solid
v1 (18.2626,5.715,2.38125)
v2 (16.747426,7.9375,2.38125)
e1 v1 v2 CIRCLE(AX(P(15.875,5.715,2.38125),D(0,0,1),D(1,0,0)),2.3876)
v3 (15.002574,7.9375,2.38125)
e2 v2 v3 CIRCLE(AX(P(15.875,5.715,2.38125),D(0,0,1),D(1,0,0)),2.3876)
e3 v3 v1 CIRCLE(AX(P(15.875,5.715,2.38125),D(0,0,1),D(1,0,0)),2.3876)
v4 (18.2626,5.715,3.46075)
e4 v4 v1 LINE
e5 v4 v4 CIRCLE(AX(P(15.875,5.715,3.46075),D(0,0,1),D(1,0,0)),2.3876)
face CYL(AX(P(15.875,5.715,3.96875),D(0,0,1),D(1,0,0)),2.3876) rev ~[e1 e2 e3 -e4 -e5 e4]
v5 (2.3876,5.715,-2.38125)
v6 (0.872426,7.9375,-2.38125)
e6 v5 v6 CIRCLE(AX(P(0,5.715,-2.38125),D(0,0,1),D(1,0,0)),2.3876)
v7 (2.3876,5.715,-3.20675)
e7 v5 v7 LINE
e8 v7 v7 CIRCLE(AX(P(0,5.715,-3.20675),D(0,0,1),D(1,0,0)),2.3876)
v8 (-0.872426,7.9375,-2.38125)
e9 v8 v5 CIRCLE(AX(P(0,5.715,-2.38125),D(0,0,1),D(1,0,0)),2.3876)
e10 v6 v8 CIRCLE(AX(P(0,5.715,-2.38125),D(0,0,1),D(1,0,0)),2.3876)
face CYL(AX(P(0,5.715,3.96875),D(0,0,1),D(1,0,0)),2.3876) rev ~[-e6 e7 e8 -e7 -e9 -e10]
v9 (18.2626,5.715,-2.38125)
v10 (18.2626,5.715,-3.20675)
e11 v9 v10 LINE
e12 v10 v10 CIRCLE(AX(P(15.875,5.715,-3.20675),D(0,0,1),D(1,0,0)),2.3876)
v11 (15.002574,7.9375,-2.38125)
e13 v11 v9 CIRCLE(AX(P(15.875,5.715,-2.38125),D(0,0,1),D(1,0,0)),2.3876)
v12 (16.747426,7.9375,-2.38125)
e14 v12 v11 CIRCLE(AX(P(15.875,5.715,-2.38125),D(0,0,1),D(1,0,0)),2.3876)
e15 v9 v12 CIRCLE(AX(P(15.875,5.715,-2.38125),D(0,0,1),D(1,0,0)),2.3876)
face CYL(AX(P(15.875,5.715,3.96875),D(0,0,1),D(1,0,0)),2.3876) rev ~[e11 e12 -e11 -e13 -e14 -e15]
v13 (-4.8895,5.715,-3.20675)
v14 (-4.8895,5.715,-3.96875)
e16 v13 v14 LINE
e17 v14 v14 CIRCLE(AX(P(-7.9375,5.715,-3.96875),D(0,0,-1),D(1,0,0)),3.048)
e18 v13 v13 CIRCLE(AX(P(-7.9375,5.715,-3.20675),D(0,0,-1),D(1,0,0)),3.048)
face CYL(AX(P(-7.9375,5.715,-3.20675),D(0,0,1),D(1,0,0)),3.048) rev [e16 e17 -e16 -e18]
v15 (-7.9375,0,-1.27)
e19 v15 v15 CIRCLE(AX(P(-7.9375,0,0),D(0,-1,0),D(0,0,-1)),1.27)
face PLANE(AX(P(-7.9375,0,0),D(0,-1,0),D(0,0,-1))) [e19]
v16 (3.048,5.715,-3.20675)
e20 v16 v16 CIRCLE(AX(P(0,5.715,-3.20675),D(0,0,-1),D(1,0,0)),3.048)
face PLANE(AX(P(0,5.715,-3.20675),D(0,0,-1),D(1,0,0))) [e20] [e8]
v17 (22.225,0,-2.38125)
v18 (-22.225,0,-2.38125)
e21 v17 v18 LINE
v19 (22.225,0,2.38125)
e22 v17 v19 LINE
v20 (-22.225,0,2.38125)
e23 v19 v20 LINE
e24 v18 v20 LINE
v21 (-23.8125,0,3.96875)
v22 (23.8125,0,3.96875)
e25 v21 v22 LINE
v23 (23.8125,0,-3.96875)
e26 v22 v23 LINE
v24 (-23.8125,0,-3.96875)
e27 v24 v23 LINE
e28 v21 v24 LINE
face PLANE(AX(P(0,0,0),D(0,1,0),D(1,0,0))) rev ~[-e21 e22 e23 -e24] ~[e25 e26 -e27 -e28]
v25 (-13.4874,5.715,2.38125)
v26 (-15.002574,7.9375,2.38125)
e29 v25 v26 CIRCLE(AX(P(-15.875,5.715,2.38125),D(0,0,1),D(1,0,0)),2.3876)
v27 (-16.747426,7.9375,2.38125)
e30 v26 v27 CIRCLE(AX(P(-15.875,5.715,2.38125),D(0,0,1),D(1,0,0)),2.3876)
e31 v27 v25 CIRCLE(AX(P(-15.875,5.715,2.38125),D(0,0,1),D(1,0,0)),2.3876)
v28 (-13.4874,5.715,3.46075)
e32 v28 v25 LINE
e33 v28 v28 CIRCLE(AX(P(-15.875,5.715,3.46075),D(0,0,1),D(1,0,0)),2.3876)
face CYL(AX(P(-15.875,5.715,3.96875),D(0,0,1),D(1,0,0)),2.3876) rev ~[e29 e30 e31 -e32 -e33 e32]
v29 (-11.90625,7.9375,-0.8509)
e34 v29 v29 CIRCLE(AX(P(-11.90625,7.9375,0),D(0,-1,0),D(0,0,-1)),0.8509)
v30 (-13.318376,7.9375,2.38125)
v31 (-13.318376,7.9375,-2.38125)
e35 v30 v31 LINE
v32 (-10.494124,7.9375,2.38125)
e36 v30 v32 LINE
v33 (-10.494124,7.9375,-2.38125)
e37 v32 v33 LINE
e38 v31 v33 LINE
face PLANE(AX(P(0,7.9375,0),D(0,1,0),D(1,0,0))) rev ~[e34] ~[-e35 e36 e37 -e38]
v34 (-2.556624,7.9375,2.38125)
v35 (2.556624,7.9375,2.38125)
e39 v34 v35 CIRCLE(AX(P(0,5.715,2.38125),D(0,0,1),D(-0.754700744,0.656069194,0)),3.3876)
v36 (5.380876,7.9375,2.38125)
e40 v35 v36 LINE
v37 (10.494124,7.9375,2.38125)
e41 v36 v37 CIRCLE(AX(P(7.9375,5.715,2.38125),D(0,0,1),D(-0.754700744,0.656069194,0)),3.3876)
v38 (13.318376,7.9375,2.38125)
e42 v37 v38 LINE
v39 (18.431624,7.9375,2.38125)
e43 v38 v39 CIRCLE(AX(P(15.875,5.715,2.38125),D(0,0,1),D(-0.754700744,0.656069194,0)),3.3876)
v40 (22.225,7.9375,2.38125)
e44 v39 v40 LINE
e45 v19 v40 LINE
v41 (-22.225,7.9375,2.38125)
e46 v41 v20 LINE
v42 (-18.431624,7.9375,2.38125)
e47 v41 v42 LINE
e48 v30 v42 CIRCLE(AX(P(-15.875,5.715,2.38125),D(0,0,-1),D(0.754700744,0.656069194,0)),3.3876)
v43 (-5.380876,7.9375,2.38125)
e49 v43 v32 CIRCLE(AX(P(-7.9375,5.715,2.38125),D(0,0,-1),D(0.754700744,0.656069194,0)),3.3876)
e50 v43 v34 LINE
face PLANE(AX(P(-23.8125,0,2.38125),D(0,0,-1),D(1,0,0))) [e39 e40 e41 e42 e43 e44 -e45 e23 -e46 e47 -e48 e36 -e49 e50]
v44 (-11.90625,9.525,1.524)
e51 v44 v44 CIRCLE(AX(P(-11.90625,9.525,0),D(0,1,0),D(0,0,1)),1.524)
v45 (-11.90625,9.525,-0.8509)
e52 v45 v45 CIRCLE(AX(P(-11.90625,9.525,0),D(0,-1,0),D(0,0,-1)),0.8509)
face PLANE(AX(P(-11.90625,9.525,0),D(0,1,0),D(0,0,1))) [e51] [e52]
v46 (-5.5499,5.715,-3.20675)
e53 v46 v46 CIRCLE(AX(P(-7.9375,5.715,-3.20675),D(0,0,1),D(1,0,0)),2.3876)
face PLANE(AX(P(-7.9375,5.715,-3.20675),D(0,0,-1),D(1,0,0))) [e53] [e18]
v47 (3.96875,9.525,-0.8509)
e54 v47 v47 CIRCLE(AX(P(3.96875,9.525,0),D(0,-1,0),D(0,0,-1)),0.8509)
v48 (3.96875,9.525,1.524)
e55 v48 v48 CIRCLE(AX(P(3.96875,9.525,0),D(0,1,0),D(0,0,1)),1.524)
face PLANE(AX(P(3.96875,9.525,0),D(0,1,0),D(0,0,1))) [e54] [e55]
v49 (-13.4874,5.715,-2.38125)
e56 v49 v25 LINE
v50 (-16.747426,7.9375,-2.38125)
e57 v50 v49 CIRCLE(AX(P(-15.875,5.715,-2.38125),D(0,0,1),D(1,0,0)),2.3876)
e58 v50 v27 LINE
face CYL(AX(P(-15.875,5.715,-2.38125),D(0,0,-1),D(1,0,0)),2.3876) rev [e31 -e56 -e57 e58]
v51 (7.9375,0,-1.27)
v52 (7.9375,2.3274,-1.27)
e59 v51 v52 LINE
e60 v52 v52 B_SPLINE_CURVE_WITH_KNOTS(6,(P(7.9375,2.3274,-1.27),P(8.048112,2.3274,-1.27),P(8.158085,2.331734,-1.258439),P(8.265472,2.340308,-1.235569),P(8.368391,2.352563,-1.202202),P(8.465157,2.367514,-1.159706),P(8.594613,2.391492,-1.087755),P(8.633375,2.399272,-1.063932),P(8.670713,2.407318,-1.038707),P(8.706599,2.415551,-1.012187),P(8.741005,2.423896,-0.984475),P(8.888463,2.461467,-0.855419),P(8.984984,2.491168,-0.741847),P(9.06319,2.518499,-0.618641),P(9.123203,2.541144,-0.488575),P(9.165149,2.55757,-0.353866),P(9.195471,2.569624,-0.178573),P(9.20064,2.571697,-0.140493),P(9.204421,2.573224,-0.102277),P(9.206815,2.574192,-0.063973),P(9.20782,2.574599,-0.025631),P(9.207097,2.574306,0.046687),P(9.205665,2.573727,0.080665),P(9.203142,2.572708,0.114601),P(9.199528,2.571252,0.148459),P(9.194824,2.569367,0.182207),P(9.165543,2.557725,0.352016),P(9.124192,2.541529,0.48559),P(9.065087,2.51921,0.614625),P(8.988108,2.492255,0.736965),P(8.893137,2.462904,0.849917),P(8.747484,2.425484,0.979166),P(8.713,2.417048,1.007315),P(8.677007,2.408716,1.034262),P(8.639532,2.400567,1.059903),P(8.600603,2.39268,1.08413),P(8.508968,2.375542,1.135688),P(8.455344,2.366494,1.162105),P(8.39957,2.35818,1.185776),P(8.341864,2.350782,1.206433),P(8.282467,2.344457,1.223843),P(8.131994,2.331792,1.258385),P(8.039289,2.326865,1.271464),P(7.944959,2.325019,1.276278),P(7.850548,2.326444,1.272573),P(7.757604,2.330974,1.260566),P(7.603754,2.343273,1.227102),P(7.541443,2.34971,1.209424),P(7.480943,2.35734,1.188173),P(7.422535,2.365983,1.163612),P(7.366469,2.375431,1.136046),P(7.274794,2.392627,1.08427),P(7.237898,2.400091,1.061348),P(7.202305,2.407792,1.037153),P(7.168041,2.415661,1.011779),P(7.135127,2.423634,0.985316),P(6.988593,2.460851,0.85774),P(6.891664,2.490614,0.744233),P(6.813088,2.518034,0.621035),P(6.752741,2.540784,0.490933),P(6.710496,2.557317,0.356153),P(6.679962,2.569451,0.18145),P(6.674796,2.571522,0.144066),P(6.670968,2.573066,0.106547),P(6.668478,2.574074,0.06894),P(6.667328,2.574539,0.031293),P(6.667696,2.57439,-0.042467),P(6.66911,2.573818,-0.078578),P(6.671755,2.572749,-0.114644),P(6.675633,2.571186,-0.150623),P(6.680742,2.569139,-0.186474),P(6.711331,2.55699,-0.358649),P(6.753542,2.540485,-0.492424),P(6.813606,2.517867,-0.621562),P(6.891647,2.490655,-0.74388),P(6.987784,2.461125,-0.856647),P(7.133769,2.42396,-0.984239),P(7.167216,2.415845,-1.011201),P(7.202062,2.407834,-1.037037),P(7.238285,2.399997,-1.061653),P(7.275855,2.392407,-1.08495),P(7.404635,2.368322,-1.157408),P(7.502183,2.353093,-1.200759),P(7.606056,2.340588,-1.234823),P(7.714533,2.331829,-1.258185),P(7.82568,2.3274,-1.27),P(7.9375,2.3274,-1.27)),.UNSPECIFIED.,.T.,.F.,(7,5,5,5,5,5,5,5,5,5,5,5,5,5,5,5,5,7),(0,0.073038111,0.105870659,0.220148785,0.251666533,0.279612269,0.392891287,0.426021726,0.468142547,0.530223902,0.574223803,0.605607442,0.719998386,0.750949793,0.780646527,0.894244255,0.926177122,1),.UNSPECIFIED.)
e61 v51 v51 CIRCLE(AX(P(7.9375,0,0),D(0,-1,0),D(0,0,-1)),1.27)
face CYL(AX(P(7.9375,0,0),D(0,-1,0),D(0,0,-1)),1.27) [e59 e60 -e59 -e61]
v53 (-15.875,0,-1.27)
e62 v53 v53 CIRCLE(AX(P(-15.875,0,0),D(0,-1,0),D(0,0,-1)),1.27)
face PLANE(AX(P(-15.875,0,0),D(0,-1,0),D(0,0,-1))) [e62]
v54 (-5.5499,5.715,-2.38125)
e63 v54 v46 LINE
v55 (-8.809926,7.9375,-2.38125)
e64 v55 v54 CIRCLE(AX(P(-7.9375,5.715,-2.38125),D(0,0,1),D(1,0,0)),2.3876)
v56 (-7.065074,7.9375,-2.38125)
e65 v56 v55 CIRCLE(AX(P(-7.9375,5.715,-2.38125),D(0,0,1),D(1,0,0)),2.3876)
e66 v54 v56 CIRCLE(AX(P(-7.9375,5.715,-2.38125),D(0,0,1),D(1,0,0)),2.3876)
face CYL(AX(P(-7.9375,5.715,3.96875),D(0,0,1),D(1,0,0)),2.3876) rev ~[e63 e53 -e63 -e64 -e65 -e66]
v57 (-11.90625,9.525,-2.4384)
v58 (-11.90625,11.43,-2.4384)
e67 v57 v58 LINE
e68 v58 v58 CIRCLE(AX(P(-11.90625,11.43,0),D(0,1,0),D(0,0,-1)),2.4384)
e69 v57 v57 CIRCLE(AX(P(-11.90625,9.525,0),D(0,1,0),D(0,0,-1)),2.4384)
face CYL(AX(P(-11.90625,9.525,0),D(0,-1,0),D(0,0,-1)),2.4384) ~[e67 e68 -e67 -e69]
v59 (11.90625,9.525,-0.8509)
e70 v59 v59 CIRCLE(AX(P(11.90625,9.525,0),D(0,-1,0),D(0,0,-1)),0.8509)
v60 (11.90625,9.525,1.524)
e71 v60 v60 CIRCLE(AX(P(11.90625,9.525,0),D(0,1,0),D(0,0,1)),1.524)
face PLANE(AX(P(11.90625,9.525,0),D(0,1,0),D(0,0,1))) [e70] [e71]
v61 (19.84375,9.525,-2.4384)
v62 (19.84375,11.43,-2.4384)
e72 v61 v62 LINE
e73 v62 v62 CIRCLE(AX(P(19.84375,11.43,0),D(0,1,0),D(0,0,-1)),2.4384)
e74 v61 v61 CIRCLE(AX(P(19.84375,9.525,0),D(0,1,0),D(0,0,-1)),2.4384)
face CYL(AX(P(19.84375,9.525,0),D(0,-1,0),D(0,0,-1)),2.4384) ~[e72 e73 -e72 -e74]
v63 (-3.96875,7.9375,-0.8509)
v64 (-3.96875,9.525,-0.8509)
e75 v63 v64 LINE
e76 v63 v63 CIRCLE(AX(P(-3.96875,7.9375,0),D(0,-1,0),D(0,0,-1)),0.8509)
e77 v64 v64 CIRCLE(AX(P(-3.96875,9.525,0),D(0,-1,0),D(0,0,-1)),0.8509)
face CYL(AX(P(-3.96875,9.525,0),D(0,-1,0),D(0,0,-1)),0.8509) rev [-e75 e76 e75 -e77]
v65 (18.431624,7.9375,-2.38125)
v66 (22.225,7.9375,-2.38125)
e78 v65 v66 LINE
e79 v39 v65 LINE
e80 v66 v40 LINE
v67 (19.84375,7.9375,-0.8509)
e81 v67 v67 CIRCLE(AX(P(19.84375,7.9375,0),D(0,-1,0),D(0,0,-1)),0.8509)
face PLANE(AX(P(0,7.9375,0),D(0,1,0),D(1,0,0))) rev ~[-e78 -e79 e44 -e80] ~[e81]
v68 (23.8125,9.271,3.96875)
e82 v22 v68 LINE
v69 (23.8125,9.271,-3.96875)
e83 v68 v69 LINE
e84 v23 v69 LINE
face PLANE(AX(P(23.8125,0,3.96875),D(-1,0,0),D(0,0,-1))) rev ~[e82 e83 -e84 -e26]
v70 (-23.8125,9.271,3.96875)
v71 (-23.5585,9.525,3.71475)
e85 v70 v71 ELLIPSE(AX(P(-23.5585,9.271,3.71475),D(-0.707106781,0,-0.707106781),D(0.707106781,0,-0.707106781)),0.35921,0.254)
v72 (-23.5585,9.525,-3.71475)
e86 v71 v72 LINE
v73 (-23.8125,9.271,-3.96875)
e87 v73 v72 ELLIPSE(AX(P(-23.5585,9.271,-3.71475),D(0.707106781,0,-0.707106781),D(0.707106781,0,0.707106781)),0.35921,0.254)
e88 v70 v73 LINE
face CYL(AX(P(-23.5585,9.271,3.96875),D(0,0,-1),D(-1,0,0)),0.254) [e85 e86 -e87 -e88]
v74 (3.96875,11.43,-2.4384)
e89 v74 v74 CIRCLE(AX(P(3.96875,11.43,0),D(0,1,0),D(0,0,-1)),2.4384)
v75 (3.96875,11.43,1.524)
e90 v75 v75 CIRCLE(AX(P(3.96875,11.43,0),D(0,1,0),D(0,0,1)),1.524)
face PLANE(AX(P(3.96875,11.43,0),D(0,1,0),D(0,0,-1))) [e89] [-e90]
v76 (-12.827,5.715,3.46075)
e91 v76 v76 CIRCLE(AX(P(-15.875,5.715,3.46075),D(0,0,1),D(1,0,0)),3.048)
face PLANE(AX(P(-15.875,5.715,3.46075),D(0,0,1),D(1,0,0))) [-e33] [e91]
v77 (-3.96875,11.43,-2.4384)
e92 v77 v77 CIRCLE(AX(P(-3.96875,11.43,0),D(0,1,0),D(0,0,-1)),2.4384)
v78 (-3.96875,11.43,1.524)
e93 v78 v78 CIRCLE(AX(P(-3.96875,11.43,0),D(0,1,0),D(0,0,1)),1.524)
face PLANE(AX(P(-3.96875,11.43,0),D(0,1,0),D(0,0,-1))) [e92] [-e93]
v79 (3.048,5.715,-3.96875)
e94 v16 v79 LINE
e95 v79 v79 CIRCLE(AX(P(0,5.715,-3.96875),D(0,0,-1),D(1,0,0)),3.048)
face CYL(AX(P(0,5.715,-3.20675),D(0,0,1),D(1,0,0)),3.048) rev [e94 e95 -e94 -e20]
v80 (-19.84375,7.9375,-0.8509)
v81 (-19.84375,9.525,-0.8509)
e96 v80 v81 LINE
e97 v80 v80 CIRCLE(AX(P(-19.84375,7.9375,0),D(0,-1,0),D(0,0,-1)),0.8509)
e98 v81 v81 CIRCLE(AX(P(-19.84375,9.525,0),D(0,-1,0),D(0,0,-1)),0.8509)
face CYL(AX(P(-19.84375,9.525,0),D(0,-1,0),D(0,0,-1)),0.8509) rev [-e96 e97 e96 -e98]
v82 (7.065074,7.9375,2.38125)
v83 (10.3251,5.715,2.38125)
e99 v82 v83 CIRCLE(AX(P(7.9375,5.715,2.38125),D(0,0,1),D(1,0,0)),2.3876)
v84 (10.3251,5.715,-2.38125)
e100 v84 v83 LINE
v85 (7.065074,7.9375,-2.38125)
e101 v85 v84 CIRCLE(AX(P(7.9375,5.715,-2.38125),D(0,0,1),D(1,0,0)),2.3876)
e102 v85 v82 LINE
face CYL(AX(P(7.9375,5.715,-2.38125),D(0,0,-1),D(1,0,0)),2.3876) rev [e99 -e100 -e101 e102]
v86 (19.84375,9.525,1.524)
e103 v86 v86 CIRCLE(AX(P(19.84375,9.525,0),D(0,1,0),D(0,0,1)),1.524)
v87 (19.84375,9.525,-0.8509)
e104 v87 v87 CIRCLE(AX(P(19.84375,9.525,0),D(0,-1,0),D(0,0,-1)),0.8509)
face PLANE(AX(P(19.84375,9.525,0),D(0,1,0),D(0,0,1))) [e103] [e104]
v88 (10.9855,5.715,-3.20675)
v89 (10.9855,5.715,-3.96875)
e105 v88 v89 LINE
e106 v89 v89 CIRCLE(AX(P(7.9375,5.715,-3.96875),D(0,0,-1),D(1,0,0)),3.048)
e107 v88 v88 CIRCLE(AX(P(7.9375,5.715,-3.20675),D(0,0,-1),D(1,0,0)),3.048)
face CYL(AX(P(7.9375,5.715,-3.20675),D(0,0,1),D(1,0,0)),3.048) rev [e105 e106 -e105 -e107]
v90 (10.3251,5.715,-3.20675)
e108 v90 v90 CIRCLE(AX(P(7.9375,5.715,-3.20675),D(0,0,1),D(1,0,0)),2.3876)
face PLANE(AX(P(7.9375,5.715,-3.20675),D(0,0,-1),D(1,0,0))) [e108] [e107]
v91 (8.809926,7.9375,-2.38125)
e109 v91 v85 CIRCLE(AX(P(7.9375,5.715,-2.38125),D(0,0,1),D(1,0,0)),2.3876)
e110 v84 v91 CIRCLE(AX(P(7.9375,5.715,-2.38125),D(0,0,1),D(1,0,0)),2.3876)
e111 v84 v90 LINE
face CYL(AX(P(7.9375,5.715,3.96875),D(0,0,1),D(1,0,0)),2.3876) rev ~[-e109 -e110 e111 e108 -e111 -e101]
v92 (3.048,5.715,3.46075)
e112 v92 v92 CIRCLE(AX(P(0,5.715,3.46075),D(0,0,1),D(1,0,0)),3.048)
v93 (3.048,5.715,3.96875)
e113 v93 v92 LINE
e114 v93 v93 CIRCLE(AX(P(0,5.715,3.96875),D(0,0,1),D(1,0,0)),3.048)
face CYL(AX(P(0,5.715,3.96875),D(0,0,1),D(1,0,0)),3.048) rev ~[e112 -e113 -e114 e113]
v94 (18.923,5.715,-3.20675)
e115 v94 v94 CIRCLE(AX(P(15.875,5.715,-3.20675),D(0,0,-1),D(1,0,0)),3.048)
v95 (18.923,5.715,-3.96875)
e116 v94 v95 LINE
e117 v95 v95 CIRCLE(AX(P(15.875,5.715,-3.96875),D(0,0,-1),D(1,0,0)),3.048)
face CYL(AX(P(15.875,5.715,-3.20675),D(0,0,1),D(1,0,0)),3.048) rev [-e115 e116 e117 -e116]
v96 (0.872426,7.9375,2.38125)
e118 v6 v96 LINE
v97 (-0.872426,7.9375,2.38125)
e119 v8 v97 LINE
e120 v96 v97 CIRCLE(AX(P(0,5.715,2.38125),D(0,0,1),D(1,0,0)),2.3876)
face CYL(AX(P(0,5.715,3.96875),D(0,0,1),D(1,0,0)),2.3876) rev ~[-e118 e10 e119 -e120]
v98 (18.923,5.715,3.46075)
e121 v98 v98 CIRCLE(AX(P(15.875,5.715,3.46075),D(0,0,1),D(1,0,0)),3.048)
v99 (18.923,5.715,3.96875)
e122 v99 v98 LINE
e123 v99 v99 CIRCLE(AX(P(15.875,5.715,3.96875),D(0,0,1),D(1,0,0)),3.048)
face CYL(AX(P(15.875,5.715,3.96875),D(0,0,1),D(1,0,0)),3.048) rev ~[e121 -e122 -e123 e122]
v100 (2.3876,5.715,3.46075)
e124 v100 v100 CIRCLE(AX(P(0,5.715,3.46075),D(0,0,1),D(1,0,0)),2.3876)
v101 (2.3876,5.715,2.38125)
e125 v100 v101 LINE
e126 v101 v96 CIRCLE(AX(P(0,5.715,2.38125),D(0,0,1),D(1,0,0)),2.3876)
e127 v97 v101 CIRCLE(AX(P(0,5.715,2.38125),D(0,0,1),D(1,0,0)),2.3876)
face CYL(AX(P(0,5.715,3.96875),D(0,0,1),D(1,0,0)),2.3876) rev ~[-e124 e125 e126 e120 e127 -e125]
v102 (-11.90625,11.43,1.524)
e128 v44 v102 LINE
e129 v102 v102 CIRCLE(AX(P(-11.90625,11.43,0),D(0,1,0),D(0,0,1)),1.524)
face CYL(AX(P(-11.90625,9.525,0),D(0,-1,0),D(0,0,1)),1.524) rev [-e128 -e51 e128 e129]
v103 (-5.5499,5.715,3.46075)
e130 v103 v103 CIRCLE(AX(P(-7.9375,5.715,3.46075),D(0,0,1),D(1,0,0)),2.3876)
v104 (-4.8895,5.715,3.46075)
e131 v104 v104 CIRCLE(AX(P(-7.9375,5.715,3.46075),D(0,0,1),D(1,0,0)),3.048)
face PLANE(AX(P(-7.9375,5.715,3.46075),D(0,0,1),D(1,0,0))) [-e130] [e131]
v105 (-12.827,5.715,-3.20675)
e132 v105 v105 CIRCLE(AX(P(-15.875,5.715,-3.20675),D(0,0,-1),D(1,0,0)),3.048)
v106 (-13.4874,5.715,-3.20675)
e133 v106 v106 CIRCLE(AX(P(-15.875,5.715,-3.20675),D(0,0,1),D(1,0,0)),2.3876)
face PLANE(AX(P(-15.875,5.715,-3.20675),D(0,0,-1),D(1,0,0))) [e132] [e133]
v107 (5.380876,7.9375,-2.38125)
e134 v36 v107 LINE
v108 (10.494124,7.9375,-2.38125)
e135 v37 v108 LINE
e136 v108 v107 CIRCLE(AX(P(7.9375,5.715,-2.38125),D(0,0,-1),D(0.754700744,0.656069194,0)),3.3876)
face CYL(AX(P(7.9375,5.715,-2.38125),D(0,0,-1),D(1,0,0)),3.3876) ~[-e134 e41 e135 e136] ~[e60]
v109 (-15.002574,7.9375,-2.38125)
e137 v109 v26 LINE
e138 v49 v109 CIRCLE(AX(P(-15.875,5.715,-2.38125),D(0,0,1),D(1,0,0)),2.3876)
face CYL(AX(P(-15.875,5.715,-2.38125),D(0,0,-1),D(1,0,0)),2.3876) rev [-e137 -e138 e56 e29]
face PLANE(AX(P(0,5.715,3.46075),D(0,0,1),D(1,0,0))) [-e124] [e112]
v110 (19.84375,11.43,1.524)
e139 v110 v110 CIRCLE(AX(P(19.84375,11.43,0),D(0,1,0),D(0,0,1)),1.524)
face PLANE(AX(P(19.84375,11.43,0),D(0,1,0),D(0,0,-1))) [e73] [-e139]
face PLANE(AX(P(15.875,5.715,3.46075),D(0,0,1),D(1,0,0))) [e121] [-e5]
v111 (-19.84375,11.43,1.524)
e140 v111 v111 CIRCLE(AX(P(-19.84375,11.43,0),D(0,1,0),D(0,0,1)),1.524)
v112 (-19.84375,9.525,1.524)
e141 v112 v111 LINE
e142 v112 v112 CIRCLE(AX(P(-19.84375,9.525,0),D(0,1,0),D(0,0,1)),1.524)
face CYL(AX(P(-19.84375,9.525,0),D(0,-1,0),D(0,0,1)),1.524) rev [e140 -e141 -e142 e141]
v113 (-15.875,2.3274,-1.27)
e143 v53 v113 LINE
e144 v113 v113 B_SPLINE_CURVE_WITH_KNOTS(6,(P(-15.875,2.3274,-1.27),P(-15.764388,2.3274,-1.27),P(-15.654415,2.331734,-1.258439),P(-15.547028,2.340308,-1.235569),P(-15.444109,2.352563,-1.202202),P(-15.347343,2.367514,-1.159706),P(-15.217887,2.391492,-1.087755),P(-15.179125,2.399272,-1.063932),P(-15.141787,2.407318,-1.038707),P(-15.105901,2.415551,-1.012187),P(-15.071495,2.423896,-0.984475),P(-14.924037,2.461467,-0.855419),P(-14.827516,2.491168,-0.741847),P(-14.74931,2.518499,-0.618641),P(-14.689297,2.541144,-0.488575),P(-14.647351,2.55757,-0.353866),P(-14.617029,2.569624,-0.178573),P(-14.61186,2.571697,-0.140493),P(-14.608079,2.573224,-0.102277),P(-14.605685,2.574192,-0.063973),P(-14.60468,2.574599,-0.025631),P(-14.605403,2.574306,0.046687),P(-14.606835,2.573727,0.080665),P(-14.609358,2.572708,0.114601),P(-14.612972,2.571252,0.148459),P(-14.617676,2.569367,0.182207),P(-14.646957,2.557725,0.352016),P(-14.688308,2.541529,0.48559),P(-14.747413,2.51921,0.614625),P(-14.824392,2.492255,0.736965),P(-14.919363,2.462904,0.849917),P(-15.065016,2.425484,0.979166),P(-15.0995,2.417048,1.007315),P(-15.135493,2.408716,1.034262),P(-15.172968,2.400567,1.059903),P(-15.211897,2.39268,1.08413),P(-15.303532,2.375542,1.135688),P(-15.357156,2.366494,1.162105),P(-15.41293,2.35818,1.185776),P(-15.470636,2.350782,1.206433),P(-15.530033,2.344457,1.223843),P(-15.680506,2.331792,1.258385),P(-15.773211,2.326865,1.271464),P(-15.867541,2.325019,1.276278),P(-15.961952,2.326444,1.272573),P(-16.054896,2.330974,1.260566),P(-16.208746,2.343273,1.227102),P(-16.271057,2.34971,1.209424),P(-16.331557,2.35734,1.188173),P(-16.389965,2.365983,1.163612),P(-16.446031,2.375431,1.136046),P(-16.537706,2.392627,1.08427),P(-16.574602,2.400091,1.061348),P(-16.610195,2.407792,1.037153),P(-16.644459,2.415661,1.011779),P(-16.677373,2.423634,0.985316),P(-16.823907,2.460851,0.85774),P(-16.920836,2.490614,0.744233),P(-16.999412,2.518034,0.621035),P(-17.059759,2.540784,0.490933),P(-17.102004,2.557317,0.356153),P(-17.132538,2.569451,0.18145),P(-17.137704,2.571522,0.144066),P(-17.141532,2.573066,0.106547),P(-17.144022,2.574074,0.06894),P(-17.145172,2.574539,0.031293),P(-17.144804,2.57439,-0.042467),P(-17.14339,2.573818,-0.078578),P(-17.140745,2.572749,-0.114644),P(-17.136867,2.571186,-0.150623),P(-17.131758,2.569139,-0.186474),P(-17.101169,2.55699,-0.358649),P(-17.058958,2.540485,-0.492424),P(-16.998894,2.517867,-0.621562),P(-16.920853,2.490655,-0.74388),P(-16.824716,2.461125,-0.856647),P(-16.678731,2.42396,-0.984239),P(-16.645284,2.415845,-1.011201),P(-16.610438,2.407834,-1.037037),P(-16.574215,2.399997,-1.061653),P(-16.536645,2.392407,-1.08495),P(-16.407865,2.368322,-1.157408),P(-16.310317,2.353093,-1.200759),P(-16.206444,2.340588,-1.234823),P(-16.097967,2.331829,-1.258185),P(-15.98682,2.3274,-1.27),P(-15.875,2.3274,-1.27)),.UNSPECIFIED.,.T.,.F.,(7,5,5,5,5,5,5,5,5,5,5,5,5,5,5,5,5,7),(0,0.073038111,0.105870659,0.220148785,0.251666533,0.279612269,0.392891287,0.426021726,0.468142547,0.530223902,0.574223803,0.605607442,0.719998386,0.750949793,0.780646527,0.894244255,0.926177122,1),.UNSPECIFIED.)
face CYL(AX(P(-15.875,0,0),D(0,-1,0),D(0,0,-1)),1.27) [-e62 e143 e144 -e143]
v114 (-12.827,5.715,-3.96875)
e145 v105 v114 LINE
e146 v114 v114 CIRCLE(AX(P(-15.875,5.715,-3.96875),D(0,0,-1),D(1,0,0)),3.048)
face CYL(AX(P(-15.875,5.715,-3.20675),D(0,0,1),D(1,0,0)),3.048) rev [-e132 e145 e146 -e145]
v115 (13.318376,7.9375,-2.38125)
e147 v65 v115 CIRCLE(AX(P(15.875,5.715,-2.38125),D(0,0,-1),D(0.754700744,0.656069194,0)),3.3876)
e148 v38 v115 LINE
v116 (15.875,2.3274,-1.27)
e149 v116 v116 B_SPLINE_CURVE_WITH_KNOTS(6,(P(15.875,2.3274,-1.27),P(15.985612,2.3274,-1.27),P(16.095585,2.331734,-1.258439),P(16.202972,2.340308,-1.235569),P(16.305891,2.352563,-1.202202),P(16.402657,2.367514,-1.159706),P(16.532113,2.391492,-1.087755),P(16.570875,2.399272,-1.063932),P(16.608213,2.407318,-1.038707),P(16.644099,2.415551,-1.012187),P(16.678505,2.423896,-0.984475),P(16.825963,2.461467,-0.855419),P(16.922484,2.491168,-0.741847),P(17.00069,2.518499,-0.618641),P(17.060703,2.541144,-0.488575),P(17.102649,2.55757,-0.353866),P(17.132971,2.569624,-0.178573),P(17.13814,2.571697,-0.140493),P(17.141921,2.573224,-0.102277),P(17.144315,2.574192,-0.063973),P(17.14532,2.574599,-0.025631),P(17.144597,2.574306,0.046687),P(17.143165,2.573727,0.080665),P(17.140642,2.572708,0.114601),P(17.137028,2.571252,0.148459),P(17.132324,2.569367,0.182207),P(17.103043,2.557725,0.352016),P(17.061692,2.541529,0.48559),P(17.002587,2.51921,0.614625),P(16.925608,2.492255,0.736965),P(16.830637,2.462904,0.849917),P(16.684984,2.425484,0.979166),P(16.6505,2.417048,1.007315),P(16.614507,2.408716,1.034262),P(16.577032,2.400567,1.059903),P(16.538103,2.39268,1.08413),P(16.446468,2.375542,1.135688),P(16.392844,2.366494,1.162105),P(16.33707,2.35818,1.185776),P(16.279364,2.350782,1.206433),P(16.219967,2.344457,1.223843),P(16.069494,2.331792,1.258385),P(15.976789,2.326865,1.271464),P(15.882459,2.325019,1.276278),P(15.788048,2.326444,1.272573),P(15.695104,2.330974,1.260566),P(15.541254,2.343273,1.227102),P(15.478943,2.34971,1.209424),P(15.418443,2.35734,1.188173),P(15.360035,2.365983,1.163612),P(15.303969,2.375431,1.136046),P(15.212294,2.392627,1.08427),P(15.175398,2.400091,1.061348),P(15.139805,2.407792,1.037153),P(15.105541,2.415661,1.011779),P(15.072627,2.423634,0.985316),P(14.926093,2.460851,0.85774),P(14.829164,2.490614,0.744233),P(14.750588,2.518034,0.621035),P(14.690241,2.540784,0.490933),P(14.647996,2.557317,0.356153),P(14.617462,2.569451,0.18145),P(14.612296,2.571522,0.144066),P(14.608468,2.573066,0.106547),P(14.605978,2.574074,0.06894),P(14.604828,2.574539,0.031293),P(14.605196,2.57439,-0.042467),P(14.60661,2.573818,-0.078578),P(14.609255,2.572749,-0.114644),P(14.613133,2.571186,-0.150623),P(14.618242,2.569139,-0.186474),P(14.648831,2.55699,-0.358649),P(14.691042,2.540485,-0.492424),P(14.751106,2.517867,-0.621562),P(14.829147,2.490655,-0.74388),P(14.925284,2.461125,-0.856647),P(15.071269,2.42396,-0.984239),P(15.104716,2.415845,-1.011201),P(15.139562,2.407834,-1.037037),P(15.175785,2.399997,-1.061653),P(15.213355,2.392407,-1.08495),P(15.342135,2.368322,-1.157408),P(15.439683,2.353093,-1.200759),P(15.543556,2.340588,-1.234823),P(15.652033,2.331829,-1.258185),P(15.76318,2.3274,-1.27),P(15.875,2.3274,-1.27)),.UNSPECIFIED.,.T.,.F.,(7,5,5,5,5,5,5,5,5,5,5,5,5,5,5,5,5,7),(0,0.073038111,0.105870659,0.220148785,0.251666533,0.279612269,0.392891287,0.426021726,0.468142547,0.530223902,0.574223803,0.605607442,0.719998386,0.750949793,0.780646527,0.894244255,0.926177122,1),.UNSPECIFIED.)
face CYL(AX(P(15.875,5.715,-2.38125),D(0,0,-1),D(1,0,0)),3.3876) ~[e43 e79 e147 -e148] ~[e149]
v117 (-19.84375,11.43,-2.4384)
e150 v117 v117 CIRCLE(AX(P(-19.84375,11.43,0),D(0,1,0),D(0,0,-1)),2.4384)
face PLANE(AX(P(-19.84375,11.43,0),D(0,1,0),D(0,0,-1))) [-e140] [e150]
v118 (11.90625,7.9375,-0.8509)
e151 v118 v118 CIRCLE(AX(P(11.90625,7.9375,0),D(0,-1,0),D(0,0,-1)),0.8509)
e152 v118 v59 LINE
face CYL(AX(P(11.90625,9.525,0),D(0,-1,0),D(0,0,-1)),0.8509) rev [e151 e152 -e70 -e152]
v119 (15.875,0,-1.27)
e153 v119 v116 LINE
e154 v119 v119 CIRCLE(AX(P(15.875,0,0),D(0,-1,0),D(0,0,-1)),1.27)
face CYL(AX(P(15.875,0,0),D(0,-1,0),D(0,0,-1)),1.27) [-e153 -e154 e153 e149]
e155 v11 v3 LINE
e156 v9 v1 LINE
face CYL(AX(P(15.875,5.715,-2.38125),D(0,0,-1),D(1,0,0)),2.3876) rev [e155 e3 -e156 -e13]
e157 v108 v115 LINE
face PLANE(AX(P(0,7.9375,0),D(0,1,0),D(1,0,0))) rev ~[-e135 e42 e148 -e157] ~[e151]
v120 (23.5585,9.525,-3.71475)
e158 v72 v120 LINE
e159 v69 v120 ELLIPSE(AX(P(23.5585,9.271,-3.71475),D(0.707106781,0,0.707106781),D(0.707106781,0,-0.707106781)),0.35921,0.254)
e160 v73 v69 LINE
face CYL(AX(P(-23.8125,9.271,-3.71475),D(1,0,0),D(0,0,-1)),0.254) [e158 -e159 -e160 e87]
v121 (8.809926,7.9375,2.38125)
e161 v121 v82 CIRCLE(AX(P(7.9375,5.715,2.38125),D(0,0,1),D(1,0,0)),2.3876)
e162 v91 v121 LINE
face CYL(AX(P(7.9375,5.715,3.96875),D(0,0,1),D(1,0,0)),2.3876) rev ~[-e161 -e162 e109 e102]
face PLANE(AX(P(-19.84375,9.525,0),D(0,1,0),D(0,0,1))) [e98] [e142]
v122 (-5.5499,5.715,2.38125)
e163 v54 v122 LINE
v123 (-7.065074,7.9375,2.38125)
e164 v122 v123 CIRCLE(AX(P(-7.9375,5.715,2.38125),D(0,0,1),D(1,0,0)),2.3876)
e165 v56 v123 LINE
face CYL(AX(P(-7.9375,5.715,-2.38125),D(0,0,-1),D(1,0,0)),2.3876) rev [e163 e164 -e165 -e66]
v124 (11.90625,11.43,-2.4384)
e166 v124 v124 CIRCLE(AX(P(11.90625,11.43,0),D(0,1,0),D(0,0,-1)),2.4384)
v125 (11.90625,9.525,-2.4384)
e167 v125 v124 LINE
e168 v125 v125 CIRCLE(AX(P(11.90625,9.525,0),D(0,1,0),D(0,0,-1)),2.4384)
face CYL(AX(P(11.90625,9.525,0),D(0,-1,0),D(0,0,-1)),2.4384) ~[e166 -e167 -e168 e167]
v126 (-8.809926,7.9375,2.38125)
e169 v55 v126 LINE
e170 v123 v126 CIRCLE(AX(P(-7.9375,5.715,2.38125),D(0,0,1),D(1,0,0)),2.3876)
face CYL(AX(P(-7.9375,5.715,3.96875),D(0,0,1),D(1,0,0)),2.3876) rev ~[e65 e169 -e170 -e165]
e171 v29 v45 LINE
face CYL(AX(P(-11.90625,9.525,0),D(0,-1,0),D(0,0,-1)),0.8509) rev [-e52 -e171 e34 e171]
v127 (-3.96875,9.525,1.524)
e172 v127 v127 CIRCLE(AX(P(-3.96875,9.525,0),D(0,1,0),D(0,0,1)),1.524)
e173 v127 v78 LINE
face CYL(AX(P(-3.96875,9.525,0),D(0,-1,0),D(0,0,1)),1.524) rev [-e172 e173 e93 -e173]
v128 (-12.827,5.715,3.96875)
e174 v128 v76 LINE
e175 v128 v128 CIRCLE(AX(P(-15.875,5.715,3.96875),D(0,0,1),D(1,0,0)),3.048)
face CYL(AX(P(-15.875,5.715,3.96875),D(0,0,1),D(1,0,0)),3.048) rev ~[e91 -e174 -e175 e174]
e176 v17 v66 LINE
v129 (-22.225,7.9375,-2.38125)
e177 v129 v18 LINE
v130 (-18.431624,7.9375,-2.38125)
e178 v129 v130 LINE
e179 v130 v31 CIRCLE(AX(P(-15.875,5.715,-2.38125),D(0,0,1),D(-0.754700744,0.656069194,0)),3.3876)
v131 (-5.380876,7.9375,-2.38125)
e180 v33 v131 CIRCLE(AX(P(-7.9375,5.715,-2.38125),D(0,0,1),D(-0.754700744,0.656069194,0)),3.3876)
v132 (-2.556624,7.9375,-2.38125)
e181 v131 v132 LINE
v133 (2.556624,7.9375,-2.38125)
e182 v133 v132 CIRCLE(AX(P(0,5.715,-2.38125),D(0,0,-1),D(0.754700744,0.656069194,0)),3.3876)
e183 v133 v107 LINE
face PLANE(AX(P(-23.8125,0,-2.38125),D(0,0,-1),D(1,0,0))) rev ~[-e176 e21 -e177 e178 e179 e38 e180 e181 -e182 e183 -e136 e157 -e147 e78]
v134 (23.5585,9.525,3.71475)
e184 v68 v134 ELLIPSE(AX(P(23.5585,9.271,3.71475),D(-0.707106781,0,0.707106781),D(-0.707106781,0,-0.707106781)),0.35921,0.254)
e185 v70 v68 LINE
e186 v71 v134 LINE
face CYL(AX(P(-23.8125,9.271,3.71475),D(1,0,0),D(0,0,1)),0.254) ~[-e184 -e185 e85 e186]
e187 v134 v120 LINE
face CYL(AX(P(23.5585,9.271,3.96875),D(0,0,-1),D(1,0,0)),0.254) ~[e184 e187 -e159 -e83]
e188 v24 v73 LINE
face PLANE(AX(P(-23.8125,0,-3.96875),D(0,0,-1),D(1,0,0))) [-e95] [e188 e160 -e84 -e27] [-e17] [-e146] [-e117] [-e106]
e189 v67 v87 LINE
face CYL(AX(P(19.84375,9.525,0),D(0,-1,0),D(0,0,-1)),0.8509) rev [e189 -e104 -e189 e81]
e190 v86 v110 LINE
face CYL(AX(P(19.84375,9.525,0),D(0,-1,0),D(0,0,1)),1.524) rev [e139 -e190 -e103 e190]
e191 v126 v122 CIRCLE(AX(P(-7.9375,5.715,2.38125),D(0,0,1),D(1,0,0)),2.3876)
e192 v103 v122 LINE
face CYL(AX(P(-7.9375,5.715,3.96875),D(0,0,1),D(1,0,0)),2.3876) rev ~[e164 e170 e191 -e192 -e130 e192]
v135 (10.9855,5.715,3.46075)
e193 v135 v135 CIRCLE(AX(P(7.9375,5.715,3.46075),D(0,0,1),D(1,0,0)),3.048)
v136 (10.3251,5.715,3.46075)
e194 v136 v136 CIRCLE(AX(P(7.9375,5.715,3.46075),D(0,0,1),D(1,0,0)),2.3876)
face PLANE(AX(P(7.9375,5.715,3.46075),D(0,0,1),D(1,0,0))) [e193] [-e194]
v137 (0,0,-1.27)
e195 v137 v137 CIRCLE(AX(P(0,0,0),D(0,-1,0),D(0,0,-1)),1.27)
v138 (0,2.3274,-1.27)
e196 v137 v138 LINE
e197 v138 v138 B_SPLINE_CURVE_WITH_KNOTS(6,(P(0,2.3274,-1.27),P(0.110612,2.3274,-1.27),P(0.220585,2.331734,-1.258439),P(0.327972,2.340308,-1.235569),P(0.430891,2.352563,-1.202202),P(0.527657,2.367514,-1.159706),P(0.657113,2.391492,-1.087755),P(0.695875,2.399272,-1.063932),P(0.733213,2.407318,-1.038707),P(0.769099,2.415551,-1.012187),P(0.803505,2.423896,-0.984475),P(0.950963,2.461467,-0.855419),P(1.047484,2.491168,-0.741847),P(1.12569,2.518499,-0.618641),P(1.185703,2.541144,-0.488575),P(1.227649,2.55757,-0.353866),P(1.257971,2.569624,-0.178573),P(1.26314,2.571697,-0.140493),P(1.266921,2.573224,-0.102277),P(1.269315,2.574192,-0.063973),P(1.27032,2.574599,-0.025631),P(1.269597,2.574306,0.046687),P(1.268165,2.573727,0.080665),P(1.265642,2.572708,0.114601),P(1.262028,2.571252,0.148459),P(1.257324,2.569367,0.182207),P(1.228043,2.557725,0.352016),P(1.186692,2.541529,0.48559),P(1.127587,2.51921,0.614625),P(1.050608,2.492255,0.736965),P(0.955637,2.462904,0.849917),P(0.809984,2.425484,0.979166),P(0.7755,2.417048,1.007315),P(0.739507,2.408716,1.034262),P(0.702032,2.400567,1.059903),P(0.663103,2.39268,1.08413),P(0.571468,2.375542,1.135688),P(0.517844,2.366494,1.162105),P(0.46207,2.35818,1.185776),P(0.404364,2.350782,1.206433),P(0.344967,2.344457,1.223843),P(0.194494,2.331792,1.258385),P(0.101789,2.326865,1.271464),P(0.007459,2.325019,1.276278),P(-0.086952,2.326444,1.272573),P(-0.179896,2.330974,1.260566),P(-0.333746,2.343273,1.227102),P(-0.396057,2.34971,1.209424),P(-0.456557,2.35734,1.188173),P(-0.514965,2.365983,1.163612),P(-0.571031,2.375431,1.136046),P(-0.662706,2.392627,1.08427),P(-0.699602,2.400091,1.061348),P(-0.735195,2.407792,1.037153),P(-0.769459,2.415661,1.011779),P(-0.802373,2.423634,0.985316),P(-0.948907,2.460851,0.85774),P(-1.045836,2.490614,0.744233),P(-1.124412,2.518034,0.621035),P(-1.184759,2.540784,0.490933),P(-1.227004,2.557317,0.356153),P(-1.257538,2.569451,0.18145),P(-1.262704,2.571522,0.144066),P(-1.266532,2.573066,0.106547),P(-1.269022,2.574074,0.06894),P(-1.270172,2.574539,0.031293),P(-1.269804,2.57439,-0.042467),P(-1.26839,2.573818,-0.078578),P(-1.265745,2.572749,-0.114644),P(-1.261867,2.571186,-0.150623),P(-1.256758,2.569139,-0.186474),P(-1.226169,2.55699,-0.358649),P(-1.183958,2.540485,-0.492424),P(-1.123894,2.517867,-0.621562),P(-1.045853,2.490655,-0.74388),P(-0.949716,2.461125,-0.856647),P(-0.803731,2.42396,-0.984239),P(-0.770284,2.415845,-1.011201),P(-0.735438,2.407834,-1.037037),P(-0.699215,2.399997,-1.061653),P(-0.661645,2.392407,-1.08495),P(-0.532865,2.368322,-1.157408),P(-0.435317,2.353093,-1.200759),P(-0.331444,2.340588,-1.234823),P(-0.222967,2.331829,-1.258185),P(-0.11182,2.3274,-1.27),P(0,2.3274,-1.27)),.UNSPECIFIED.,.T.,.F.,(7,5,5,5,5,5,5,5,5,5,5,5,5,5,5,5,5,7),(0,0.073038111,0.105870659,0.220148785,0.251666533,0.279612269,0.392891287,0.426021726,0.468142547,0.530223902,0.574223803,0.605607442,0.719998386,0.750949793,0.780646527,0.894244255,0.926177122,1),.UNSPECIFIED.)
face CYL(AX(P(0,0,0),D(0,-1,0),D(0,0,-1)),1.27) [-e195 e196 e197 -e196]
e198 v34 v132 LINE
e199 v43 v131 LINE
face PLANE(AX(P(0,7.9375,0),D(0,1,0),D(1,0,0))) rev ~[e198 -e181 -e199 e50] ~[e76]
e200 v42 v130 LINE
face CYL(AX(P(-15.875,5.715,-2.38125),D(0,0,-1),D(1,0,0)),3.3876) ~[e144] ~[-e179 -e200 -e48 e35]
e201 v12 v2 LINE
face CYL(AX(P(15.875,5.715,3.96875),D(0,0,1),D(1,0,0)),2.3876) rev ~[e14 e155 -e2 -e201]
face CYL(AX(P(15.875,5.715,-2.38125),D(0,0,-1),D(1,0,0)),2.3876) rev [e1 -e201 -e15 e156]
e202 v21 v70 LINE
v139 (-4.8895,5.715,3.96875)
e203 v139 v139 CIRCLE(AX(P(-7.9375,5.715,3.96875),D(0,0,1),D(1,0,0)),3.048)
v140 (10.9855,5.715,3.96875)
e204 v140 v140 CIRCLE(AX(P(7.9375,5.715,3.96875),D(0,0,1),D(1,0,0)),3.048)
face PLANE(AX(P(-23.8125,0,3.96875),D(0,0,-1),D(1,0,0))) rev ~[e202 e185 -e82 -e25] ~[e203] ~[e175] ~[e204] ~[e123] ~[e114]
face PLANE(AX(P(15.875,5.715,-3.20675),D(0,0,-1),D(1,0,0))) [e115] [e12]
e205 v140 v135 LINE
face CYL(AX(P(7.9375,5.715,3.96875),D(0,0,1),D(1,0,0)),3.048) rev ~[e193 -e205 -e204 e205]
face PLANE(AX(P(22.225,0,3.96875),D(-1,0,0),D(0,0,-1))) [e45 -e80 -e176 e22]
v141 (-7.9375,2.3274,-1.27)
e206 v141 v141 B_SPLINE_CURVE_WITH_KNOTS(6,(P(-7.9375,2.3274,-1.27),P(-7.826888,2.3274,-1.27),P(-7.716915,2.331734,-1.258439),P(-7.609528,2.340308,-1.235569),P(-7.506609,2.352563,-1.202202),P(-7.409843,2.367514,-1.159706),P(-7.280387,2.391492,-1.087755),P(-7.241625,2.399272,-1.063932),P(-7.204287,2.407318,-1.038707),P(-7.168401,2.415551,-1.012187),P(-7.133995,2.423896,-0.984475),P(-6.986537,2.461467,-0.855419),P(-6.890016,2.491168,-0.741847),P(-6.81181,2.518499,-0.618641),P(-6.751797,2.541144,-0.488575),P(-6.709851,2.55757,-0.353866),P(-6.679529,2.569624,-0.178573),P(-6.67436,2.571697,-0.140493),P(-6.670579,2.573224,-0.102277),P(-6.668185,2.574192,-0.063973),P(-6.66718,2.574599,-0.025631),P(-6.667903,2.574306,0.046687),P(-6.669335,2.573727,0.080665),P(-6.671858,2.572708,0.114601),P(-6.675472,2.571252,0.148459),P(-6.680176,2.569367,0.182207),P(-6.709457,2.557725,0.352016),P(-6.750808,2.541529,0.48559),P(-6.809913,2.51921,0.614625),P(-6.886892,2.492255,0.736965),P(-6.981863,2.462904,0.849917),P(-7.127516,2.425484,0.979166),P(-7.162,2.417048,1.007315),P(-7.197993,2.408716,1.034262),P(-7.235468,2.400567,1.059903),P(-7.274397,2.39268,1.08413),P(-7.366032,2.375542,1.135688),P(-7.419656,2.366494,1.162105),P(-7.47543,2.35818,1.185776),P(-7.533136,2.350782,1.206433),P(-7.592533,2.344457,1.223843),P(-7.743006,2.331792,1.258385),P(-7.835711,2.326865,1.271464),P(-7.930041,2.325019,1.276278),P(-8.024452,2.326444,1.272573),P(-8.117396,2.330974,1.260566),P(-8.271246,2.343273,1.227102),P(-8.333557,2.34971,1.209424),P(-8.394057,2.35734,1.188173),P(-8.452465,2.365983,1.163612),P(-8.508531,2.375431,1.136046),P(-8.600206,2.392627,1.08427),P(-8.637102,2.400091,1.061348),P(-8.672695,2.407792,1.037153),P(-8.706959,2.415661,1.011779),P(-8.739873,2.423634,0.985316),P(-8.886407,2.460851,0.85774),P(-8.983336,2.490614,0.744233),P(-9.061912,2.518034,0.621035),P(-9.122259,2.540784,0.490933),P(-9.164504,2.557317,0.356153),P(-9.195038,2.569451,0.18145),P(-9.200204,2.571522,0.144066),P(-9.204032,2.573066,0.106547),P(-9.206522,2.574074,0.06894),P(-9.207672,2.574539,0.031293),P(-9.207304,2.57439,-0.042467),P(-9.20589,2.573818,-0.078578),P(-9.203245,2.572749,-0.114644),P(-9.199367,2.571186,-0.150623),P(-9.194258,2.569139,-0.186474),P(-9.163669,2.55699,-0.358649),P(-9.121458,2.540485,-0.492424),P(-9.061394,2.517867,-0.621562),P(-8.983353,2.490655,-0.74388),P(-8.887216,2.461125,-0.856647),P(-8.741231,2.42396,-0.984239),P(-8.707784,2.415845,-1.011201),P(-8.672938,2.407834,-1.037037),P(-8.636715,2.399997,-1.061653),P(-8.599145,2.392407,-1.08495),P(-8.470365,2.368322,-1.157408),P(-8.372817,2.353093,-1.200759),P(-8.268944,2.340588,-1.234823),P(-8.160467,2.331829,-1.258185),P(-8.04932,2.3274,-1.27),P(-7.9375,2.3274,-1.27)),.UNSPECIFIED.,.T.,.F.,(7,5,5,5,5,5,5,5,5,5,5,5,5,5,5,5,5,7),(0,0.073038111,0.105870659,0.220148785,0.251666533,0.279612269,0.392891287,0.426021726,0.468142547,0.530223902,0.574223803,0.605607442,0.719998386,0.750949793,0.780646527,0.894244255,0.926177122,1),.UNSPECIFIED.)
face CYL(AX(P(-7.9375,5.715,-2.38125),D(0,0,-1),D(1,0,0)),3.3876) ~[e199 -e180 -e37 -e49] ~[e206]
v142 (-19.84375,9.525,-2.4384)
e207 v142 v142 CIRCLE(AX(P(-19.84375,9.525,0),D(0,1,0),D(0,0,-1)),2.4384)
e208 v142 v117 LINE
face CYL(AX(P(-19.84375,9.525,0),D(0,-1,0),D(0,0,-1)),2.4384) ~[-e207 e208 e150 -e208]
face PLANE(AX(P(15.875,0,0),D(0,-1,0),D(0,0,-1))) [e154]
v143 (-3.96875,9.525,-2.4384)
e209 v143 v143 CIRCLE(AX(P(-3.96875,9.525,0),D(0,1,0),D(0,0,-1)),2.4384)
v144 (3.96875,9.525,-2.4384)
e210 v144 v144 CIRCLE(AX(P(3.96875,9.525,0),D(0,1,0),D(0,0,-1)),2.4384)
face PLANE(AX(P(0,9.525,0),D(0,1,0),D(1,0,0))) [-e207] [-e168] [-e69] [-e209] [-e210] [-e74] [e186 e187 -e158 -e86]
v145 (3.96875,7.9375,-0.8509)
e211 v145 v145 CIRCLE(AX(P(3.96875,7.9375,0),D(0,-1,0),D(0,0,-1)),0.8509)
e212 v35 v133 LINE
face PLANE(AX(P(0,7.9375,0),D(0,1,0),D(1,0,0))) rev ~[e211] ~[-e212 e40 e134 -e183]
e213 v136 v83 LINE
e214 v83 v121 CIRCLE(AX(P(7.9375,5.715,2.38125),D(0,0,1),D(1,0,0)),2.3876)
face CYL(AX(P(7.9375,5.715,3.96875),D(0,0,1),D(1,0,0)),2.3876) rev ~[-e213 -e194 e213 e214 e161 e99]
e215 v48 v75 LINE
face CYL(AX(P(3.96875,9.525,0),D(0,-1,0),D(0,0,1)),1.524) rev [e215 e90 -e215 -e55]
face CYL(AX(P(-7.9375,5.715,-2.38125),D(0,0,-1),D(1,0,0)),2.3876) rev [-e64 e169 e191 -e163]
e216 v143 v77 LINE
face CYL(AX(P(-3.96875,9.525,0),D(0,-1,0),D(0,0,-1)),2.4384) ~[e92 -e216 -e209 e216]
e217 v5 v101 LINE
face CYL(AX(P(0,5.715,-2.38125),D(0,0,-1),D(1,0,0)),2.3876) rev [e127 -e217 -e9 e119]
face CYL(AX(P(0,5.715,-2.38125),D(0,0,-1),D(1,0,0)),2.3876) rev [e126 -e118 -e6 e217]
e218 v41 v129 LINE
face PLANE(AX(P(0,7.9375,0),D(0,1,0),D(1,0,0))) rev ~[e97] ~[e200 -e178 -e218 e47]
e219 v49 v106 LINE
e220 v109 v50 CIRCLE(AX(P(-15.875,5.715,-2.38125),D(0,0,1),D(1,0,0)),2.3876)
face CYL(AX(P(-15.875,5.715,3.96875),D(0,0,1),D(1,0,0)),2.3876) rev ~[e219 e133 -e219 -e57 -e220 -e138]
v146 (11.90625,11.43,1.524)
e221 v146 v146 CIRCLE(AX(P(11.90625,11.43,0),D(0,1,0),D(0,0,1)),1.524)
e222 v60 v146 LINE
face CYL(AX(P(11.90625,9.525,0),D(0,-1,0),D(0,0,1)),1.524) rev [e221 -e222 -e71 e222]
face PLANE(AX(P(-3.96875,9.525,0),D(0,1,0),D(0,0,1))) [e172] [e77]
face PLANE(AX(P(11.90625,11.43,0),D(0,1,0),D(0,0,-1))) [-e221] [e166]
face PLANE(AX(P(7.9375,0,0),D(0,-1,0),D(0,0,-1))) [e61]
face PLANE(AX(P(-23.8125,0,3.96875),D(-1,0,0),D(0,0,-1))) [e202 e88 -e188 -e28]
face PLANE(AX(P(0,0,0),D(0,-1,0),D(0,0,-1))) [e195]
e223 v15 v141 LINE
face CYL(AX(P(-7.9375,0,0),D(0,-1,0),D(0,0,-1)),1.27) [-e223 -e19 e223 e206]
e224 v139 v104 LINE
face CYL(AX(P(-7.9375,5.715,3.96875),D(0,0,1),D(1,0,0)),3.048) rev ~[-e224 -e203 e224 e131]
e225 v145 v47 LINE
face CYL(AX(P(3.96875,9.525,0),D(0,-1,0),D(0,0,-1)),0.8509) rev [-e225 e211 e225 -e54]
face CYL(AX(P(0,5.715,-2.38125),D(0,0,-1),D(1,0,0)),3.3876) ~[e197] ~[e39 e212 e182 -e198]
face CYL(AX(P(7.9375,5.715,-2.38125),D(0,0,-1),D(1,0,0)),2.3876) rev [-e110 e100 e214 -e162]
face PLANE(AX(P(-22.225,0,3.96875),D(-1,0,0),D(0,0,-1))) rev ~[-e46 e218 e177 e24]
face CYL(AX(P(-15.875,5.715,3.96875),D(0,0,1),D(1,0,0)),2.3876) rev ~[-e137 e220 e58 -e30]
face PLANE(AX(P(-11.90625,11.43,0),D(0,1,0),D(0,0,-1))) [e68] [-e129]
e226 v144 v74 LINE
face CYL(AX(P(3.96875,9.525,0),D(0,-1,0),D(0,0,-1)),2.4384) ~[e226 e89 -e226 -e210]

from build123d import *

# Parameters (mm, degrees)
SKETCH1_W                = 47.625
SKETCH1_H                = 7.9375
BASE_EXTRUDE_DEPTH       = 9.525
SKETCH2_R                = 2.4384
BOSS_EXTRUDE1_DEPTH      = 1.905
LPATTERN4_COUNT          = 6
LPATTERN4_PITCH          = 7.9375
SHELL1_T                 = -1.5875
SKETCH5_R                = 2.3876
CUT_EXTRUDE1_DEPTH       = 28.580499678
SKETCH6_R                = 3.048
CBORE1_DEPTH             = 0.508
CBORE2_START             = -0.762
SKETCH7_R                = 3.048
CBORE2_DEPTH             = 0.762
BOSS_EXTRUDE_THIN1_START = -5.842
SKETCH8_R                = 3.3876
SKETCH8_R_2              = 2.3876
BOSS_EXTRUDE_THIN1_DEPTH = 4.7625
LPATTERN7_COUNT          = 5
LPATTERN7_PITCH          = 7.9375
INSDOT2_REACH            = 28.71
INSDOT2_END_RADIUS       = 3.3876
SKETCH4_R                = 1.27
LPATTERN6_COUNT          = 5
LPATTERN6_PITCH          = 7.9375
CUT_EXTRUDE2_START       = -1.905
SKETCH10_R               = 1.524
CUT_EXTRUDE2_DEPTH       = 1.905
LPATTERN8_COUNT          = 6
LPATTERN8_PITCH          = 7.9375
FILLET1_R                = 0.254


with BuildPart() as part:
    # Sketch1 → Base-Extrude (new body)
    with BuildSketch(Plane(origin=(0, 0, 0), x_dir=(1, 0, 0), z_dir=(0, 1, 0))):
        Rectangle(SKETCH1_W, SKETCH1_H)
    extrude(amount=BASE_EXTRUDE_DEPTH)

    # Sketch2 → Boss-Extrude1 (add)
    with BuildSketch(Plane(origin=(0, 9.525, 0), x_dir=(-1, 0, 0), z_dir=(0, 1, 0))):
        with Locations(Location((19.84375, 0, 0), (0, 0, 270))):
            Circle(SKETCH2_R)
    boss_extrude1 = extrude(amount=BOSS_EXTRUDE1_DEPTH)

    # LPattern4: Boss-Extrude1 ×6
    with Locations(*[(i * LPATTERN4_PITCH, 0, 0) for i in range(1, LPATTERN4_COUNT)]):
        add(boss_extrude1)

    # Shell1
    shell1_openings = [part.faces().sort_by_distance(p)[0] for p in [
        (0, 0, 0),
    ]]
    offset(amount=SHELL1_T, openings=shell1_openings, kind=Kind.INTERSECTION)

    # Sketch5 → Cut-Extrude1 (cut, through all)
    with BuildSketch(Plane.XY.offset(3.96875)):
        with Locations((-15.875, 5.715)):
            Circle(SKETCH5_R)
    cut_extrude1 = extrude(amount=-CUT_EXTRUDE1_DEPTH, mode=Mode.SUBTRACT)

    # Sketch6 → cbore1 (cut)
    with BuildSketch(Plane.XY.offset(3.96875)):
        with Locations((-15.875, 5.715)):
            Circle(SKETCH6_R)
    cbore1 = extrude(amount=-CBORE1_DEPTH, mode=Mode.SUBTRACT)

    # Sketch7 → cbore2 (cut)
    with BuildSketch(Plane(origin=(0, 0, -3.96875), x_dir=(-1, 0, 0), z_dir=(0, 0, -1)).offset(CBORE2_START)):
        with Locations(Location((15.875, 5.715, 0), (0, 0, 180))):
            Circle(SKETCH7_R)
    cbore2 = extrude(amount=CBORE2_DEPTH, mode=Mode.SUBTRACT)

    # Sketch8 → Boss-Extrude-Thin1 (add)
    with BuildSketch(Plane.XY.offset(3.46075).offset(BOSS_EXTRUDE_THIN1_START)):
        with Locations((-15.875, 5.715)):
            Circle(SKETCH8_R)
        with Locations((-15.875, 5.715)):
            Circle(SKETCH8_R_2, mode=Mode.SUBTRACT)
    boss_extrude_thin1 = extrude(amount=BOSS_EXTRUDE_THIN1_DEPTH)

    # LPattern7: Cut-Extrude1, cbore1, cbore2, Boss-Extrude-Thin1 ×5
    with Locations(*[(i * LPATTERN7_PITCH, 0, 0) for i in range(1, LPATTERN7_COUNT)]):
        add(cut_extrude1, mode=Mode.SUBTRACT)
        add(cbore1, mode=Mode.SUBTRACT)
        add(cbore2, mode=Mode.SUBTRACT)
        add(boss_extrude_thin1)

    # InsDot2: up to this cylinder (the profile starts outside it)
    insdot2_end = Plane(origin=(15.875, 5.715, 0), z_dir=(0, 0, 1)) * Cylinder(INSDOT2_END_RADIUS, 65.1952, mode=Mode.PRIVATE)
    # Sketch4 → InsDot2 (add, up to the surface)
    with BuildSketch(Plane.XZ, mode=Mode.PRIVATE) as insdot2_sk1:
        with Locations(Location((15.875, 0, 0), (0, 0, 270))):
            Circle(SKETCH4_R)
    insdot2_tool1 = extrude(insdot2_sk1.sketch, amount=-INSDOT2_REACH, mode=Mode.PRIVATE) - insdot2_end
    insdot2 = insdot2_tool1.solids().sort_by_distance((15.875, 0, 0))[0]
    add(insdot2)

    # LPattern6: InsDot2 ×5
    with Locations(*[(-i * LPATTERN6_PITCH, 0, 0) for i in range(1, LPATTERN6_COUNT)]):
        add(insdot2)

    # Sketch10 → Cut-Extrude2 (cut)
    with BuildSketch(Plane(origin=(0, 11.43, 0), x_dir=(-1, 0, 0), z_dir=(0, 1, 0)).offset(CUT_EXTRUDE2_START)):
        with Locations(Location((19.84375, 0, 0), (0, 0, 90))):
            Circle(SKETCH10_R)
    cut_extrude2 = extrude(amount=CUT_EXTRUDE2_DEPTH, mode=Mode.SUBTRACT)

    # LPattern8: Cut-Extrude2 ×6
    with Locations(*[(i * LPATTERN8_PITCH, 0, 0) for i in range(1, LPATTERN8_COUNT)]):
        add(cut_extrude2, mode=Mode.SUBTRACT)

    # Fillet1
    fillet1_edges = [part.edges().sort_by_distance(p)[0] for p in [
        (23.8125, 9.525, 0),
        (0, 9.525, -3.96875),
        (-23.8125, 9.525, 0),
        (0, 9.525, 3.96875),
    ]]
    fillet(fillet1_edges, radius=FILLET1_R)


solid = part.part
